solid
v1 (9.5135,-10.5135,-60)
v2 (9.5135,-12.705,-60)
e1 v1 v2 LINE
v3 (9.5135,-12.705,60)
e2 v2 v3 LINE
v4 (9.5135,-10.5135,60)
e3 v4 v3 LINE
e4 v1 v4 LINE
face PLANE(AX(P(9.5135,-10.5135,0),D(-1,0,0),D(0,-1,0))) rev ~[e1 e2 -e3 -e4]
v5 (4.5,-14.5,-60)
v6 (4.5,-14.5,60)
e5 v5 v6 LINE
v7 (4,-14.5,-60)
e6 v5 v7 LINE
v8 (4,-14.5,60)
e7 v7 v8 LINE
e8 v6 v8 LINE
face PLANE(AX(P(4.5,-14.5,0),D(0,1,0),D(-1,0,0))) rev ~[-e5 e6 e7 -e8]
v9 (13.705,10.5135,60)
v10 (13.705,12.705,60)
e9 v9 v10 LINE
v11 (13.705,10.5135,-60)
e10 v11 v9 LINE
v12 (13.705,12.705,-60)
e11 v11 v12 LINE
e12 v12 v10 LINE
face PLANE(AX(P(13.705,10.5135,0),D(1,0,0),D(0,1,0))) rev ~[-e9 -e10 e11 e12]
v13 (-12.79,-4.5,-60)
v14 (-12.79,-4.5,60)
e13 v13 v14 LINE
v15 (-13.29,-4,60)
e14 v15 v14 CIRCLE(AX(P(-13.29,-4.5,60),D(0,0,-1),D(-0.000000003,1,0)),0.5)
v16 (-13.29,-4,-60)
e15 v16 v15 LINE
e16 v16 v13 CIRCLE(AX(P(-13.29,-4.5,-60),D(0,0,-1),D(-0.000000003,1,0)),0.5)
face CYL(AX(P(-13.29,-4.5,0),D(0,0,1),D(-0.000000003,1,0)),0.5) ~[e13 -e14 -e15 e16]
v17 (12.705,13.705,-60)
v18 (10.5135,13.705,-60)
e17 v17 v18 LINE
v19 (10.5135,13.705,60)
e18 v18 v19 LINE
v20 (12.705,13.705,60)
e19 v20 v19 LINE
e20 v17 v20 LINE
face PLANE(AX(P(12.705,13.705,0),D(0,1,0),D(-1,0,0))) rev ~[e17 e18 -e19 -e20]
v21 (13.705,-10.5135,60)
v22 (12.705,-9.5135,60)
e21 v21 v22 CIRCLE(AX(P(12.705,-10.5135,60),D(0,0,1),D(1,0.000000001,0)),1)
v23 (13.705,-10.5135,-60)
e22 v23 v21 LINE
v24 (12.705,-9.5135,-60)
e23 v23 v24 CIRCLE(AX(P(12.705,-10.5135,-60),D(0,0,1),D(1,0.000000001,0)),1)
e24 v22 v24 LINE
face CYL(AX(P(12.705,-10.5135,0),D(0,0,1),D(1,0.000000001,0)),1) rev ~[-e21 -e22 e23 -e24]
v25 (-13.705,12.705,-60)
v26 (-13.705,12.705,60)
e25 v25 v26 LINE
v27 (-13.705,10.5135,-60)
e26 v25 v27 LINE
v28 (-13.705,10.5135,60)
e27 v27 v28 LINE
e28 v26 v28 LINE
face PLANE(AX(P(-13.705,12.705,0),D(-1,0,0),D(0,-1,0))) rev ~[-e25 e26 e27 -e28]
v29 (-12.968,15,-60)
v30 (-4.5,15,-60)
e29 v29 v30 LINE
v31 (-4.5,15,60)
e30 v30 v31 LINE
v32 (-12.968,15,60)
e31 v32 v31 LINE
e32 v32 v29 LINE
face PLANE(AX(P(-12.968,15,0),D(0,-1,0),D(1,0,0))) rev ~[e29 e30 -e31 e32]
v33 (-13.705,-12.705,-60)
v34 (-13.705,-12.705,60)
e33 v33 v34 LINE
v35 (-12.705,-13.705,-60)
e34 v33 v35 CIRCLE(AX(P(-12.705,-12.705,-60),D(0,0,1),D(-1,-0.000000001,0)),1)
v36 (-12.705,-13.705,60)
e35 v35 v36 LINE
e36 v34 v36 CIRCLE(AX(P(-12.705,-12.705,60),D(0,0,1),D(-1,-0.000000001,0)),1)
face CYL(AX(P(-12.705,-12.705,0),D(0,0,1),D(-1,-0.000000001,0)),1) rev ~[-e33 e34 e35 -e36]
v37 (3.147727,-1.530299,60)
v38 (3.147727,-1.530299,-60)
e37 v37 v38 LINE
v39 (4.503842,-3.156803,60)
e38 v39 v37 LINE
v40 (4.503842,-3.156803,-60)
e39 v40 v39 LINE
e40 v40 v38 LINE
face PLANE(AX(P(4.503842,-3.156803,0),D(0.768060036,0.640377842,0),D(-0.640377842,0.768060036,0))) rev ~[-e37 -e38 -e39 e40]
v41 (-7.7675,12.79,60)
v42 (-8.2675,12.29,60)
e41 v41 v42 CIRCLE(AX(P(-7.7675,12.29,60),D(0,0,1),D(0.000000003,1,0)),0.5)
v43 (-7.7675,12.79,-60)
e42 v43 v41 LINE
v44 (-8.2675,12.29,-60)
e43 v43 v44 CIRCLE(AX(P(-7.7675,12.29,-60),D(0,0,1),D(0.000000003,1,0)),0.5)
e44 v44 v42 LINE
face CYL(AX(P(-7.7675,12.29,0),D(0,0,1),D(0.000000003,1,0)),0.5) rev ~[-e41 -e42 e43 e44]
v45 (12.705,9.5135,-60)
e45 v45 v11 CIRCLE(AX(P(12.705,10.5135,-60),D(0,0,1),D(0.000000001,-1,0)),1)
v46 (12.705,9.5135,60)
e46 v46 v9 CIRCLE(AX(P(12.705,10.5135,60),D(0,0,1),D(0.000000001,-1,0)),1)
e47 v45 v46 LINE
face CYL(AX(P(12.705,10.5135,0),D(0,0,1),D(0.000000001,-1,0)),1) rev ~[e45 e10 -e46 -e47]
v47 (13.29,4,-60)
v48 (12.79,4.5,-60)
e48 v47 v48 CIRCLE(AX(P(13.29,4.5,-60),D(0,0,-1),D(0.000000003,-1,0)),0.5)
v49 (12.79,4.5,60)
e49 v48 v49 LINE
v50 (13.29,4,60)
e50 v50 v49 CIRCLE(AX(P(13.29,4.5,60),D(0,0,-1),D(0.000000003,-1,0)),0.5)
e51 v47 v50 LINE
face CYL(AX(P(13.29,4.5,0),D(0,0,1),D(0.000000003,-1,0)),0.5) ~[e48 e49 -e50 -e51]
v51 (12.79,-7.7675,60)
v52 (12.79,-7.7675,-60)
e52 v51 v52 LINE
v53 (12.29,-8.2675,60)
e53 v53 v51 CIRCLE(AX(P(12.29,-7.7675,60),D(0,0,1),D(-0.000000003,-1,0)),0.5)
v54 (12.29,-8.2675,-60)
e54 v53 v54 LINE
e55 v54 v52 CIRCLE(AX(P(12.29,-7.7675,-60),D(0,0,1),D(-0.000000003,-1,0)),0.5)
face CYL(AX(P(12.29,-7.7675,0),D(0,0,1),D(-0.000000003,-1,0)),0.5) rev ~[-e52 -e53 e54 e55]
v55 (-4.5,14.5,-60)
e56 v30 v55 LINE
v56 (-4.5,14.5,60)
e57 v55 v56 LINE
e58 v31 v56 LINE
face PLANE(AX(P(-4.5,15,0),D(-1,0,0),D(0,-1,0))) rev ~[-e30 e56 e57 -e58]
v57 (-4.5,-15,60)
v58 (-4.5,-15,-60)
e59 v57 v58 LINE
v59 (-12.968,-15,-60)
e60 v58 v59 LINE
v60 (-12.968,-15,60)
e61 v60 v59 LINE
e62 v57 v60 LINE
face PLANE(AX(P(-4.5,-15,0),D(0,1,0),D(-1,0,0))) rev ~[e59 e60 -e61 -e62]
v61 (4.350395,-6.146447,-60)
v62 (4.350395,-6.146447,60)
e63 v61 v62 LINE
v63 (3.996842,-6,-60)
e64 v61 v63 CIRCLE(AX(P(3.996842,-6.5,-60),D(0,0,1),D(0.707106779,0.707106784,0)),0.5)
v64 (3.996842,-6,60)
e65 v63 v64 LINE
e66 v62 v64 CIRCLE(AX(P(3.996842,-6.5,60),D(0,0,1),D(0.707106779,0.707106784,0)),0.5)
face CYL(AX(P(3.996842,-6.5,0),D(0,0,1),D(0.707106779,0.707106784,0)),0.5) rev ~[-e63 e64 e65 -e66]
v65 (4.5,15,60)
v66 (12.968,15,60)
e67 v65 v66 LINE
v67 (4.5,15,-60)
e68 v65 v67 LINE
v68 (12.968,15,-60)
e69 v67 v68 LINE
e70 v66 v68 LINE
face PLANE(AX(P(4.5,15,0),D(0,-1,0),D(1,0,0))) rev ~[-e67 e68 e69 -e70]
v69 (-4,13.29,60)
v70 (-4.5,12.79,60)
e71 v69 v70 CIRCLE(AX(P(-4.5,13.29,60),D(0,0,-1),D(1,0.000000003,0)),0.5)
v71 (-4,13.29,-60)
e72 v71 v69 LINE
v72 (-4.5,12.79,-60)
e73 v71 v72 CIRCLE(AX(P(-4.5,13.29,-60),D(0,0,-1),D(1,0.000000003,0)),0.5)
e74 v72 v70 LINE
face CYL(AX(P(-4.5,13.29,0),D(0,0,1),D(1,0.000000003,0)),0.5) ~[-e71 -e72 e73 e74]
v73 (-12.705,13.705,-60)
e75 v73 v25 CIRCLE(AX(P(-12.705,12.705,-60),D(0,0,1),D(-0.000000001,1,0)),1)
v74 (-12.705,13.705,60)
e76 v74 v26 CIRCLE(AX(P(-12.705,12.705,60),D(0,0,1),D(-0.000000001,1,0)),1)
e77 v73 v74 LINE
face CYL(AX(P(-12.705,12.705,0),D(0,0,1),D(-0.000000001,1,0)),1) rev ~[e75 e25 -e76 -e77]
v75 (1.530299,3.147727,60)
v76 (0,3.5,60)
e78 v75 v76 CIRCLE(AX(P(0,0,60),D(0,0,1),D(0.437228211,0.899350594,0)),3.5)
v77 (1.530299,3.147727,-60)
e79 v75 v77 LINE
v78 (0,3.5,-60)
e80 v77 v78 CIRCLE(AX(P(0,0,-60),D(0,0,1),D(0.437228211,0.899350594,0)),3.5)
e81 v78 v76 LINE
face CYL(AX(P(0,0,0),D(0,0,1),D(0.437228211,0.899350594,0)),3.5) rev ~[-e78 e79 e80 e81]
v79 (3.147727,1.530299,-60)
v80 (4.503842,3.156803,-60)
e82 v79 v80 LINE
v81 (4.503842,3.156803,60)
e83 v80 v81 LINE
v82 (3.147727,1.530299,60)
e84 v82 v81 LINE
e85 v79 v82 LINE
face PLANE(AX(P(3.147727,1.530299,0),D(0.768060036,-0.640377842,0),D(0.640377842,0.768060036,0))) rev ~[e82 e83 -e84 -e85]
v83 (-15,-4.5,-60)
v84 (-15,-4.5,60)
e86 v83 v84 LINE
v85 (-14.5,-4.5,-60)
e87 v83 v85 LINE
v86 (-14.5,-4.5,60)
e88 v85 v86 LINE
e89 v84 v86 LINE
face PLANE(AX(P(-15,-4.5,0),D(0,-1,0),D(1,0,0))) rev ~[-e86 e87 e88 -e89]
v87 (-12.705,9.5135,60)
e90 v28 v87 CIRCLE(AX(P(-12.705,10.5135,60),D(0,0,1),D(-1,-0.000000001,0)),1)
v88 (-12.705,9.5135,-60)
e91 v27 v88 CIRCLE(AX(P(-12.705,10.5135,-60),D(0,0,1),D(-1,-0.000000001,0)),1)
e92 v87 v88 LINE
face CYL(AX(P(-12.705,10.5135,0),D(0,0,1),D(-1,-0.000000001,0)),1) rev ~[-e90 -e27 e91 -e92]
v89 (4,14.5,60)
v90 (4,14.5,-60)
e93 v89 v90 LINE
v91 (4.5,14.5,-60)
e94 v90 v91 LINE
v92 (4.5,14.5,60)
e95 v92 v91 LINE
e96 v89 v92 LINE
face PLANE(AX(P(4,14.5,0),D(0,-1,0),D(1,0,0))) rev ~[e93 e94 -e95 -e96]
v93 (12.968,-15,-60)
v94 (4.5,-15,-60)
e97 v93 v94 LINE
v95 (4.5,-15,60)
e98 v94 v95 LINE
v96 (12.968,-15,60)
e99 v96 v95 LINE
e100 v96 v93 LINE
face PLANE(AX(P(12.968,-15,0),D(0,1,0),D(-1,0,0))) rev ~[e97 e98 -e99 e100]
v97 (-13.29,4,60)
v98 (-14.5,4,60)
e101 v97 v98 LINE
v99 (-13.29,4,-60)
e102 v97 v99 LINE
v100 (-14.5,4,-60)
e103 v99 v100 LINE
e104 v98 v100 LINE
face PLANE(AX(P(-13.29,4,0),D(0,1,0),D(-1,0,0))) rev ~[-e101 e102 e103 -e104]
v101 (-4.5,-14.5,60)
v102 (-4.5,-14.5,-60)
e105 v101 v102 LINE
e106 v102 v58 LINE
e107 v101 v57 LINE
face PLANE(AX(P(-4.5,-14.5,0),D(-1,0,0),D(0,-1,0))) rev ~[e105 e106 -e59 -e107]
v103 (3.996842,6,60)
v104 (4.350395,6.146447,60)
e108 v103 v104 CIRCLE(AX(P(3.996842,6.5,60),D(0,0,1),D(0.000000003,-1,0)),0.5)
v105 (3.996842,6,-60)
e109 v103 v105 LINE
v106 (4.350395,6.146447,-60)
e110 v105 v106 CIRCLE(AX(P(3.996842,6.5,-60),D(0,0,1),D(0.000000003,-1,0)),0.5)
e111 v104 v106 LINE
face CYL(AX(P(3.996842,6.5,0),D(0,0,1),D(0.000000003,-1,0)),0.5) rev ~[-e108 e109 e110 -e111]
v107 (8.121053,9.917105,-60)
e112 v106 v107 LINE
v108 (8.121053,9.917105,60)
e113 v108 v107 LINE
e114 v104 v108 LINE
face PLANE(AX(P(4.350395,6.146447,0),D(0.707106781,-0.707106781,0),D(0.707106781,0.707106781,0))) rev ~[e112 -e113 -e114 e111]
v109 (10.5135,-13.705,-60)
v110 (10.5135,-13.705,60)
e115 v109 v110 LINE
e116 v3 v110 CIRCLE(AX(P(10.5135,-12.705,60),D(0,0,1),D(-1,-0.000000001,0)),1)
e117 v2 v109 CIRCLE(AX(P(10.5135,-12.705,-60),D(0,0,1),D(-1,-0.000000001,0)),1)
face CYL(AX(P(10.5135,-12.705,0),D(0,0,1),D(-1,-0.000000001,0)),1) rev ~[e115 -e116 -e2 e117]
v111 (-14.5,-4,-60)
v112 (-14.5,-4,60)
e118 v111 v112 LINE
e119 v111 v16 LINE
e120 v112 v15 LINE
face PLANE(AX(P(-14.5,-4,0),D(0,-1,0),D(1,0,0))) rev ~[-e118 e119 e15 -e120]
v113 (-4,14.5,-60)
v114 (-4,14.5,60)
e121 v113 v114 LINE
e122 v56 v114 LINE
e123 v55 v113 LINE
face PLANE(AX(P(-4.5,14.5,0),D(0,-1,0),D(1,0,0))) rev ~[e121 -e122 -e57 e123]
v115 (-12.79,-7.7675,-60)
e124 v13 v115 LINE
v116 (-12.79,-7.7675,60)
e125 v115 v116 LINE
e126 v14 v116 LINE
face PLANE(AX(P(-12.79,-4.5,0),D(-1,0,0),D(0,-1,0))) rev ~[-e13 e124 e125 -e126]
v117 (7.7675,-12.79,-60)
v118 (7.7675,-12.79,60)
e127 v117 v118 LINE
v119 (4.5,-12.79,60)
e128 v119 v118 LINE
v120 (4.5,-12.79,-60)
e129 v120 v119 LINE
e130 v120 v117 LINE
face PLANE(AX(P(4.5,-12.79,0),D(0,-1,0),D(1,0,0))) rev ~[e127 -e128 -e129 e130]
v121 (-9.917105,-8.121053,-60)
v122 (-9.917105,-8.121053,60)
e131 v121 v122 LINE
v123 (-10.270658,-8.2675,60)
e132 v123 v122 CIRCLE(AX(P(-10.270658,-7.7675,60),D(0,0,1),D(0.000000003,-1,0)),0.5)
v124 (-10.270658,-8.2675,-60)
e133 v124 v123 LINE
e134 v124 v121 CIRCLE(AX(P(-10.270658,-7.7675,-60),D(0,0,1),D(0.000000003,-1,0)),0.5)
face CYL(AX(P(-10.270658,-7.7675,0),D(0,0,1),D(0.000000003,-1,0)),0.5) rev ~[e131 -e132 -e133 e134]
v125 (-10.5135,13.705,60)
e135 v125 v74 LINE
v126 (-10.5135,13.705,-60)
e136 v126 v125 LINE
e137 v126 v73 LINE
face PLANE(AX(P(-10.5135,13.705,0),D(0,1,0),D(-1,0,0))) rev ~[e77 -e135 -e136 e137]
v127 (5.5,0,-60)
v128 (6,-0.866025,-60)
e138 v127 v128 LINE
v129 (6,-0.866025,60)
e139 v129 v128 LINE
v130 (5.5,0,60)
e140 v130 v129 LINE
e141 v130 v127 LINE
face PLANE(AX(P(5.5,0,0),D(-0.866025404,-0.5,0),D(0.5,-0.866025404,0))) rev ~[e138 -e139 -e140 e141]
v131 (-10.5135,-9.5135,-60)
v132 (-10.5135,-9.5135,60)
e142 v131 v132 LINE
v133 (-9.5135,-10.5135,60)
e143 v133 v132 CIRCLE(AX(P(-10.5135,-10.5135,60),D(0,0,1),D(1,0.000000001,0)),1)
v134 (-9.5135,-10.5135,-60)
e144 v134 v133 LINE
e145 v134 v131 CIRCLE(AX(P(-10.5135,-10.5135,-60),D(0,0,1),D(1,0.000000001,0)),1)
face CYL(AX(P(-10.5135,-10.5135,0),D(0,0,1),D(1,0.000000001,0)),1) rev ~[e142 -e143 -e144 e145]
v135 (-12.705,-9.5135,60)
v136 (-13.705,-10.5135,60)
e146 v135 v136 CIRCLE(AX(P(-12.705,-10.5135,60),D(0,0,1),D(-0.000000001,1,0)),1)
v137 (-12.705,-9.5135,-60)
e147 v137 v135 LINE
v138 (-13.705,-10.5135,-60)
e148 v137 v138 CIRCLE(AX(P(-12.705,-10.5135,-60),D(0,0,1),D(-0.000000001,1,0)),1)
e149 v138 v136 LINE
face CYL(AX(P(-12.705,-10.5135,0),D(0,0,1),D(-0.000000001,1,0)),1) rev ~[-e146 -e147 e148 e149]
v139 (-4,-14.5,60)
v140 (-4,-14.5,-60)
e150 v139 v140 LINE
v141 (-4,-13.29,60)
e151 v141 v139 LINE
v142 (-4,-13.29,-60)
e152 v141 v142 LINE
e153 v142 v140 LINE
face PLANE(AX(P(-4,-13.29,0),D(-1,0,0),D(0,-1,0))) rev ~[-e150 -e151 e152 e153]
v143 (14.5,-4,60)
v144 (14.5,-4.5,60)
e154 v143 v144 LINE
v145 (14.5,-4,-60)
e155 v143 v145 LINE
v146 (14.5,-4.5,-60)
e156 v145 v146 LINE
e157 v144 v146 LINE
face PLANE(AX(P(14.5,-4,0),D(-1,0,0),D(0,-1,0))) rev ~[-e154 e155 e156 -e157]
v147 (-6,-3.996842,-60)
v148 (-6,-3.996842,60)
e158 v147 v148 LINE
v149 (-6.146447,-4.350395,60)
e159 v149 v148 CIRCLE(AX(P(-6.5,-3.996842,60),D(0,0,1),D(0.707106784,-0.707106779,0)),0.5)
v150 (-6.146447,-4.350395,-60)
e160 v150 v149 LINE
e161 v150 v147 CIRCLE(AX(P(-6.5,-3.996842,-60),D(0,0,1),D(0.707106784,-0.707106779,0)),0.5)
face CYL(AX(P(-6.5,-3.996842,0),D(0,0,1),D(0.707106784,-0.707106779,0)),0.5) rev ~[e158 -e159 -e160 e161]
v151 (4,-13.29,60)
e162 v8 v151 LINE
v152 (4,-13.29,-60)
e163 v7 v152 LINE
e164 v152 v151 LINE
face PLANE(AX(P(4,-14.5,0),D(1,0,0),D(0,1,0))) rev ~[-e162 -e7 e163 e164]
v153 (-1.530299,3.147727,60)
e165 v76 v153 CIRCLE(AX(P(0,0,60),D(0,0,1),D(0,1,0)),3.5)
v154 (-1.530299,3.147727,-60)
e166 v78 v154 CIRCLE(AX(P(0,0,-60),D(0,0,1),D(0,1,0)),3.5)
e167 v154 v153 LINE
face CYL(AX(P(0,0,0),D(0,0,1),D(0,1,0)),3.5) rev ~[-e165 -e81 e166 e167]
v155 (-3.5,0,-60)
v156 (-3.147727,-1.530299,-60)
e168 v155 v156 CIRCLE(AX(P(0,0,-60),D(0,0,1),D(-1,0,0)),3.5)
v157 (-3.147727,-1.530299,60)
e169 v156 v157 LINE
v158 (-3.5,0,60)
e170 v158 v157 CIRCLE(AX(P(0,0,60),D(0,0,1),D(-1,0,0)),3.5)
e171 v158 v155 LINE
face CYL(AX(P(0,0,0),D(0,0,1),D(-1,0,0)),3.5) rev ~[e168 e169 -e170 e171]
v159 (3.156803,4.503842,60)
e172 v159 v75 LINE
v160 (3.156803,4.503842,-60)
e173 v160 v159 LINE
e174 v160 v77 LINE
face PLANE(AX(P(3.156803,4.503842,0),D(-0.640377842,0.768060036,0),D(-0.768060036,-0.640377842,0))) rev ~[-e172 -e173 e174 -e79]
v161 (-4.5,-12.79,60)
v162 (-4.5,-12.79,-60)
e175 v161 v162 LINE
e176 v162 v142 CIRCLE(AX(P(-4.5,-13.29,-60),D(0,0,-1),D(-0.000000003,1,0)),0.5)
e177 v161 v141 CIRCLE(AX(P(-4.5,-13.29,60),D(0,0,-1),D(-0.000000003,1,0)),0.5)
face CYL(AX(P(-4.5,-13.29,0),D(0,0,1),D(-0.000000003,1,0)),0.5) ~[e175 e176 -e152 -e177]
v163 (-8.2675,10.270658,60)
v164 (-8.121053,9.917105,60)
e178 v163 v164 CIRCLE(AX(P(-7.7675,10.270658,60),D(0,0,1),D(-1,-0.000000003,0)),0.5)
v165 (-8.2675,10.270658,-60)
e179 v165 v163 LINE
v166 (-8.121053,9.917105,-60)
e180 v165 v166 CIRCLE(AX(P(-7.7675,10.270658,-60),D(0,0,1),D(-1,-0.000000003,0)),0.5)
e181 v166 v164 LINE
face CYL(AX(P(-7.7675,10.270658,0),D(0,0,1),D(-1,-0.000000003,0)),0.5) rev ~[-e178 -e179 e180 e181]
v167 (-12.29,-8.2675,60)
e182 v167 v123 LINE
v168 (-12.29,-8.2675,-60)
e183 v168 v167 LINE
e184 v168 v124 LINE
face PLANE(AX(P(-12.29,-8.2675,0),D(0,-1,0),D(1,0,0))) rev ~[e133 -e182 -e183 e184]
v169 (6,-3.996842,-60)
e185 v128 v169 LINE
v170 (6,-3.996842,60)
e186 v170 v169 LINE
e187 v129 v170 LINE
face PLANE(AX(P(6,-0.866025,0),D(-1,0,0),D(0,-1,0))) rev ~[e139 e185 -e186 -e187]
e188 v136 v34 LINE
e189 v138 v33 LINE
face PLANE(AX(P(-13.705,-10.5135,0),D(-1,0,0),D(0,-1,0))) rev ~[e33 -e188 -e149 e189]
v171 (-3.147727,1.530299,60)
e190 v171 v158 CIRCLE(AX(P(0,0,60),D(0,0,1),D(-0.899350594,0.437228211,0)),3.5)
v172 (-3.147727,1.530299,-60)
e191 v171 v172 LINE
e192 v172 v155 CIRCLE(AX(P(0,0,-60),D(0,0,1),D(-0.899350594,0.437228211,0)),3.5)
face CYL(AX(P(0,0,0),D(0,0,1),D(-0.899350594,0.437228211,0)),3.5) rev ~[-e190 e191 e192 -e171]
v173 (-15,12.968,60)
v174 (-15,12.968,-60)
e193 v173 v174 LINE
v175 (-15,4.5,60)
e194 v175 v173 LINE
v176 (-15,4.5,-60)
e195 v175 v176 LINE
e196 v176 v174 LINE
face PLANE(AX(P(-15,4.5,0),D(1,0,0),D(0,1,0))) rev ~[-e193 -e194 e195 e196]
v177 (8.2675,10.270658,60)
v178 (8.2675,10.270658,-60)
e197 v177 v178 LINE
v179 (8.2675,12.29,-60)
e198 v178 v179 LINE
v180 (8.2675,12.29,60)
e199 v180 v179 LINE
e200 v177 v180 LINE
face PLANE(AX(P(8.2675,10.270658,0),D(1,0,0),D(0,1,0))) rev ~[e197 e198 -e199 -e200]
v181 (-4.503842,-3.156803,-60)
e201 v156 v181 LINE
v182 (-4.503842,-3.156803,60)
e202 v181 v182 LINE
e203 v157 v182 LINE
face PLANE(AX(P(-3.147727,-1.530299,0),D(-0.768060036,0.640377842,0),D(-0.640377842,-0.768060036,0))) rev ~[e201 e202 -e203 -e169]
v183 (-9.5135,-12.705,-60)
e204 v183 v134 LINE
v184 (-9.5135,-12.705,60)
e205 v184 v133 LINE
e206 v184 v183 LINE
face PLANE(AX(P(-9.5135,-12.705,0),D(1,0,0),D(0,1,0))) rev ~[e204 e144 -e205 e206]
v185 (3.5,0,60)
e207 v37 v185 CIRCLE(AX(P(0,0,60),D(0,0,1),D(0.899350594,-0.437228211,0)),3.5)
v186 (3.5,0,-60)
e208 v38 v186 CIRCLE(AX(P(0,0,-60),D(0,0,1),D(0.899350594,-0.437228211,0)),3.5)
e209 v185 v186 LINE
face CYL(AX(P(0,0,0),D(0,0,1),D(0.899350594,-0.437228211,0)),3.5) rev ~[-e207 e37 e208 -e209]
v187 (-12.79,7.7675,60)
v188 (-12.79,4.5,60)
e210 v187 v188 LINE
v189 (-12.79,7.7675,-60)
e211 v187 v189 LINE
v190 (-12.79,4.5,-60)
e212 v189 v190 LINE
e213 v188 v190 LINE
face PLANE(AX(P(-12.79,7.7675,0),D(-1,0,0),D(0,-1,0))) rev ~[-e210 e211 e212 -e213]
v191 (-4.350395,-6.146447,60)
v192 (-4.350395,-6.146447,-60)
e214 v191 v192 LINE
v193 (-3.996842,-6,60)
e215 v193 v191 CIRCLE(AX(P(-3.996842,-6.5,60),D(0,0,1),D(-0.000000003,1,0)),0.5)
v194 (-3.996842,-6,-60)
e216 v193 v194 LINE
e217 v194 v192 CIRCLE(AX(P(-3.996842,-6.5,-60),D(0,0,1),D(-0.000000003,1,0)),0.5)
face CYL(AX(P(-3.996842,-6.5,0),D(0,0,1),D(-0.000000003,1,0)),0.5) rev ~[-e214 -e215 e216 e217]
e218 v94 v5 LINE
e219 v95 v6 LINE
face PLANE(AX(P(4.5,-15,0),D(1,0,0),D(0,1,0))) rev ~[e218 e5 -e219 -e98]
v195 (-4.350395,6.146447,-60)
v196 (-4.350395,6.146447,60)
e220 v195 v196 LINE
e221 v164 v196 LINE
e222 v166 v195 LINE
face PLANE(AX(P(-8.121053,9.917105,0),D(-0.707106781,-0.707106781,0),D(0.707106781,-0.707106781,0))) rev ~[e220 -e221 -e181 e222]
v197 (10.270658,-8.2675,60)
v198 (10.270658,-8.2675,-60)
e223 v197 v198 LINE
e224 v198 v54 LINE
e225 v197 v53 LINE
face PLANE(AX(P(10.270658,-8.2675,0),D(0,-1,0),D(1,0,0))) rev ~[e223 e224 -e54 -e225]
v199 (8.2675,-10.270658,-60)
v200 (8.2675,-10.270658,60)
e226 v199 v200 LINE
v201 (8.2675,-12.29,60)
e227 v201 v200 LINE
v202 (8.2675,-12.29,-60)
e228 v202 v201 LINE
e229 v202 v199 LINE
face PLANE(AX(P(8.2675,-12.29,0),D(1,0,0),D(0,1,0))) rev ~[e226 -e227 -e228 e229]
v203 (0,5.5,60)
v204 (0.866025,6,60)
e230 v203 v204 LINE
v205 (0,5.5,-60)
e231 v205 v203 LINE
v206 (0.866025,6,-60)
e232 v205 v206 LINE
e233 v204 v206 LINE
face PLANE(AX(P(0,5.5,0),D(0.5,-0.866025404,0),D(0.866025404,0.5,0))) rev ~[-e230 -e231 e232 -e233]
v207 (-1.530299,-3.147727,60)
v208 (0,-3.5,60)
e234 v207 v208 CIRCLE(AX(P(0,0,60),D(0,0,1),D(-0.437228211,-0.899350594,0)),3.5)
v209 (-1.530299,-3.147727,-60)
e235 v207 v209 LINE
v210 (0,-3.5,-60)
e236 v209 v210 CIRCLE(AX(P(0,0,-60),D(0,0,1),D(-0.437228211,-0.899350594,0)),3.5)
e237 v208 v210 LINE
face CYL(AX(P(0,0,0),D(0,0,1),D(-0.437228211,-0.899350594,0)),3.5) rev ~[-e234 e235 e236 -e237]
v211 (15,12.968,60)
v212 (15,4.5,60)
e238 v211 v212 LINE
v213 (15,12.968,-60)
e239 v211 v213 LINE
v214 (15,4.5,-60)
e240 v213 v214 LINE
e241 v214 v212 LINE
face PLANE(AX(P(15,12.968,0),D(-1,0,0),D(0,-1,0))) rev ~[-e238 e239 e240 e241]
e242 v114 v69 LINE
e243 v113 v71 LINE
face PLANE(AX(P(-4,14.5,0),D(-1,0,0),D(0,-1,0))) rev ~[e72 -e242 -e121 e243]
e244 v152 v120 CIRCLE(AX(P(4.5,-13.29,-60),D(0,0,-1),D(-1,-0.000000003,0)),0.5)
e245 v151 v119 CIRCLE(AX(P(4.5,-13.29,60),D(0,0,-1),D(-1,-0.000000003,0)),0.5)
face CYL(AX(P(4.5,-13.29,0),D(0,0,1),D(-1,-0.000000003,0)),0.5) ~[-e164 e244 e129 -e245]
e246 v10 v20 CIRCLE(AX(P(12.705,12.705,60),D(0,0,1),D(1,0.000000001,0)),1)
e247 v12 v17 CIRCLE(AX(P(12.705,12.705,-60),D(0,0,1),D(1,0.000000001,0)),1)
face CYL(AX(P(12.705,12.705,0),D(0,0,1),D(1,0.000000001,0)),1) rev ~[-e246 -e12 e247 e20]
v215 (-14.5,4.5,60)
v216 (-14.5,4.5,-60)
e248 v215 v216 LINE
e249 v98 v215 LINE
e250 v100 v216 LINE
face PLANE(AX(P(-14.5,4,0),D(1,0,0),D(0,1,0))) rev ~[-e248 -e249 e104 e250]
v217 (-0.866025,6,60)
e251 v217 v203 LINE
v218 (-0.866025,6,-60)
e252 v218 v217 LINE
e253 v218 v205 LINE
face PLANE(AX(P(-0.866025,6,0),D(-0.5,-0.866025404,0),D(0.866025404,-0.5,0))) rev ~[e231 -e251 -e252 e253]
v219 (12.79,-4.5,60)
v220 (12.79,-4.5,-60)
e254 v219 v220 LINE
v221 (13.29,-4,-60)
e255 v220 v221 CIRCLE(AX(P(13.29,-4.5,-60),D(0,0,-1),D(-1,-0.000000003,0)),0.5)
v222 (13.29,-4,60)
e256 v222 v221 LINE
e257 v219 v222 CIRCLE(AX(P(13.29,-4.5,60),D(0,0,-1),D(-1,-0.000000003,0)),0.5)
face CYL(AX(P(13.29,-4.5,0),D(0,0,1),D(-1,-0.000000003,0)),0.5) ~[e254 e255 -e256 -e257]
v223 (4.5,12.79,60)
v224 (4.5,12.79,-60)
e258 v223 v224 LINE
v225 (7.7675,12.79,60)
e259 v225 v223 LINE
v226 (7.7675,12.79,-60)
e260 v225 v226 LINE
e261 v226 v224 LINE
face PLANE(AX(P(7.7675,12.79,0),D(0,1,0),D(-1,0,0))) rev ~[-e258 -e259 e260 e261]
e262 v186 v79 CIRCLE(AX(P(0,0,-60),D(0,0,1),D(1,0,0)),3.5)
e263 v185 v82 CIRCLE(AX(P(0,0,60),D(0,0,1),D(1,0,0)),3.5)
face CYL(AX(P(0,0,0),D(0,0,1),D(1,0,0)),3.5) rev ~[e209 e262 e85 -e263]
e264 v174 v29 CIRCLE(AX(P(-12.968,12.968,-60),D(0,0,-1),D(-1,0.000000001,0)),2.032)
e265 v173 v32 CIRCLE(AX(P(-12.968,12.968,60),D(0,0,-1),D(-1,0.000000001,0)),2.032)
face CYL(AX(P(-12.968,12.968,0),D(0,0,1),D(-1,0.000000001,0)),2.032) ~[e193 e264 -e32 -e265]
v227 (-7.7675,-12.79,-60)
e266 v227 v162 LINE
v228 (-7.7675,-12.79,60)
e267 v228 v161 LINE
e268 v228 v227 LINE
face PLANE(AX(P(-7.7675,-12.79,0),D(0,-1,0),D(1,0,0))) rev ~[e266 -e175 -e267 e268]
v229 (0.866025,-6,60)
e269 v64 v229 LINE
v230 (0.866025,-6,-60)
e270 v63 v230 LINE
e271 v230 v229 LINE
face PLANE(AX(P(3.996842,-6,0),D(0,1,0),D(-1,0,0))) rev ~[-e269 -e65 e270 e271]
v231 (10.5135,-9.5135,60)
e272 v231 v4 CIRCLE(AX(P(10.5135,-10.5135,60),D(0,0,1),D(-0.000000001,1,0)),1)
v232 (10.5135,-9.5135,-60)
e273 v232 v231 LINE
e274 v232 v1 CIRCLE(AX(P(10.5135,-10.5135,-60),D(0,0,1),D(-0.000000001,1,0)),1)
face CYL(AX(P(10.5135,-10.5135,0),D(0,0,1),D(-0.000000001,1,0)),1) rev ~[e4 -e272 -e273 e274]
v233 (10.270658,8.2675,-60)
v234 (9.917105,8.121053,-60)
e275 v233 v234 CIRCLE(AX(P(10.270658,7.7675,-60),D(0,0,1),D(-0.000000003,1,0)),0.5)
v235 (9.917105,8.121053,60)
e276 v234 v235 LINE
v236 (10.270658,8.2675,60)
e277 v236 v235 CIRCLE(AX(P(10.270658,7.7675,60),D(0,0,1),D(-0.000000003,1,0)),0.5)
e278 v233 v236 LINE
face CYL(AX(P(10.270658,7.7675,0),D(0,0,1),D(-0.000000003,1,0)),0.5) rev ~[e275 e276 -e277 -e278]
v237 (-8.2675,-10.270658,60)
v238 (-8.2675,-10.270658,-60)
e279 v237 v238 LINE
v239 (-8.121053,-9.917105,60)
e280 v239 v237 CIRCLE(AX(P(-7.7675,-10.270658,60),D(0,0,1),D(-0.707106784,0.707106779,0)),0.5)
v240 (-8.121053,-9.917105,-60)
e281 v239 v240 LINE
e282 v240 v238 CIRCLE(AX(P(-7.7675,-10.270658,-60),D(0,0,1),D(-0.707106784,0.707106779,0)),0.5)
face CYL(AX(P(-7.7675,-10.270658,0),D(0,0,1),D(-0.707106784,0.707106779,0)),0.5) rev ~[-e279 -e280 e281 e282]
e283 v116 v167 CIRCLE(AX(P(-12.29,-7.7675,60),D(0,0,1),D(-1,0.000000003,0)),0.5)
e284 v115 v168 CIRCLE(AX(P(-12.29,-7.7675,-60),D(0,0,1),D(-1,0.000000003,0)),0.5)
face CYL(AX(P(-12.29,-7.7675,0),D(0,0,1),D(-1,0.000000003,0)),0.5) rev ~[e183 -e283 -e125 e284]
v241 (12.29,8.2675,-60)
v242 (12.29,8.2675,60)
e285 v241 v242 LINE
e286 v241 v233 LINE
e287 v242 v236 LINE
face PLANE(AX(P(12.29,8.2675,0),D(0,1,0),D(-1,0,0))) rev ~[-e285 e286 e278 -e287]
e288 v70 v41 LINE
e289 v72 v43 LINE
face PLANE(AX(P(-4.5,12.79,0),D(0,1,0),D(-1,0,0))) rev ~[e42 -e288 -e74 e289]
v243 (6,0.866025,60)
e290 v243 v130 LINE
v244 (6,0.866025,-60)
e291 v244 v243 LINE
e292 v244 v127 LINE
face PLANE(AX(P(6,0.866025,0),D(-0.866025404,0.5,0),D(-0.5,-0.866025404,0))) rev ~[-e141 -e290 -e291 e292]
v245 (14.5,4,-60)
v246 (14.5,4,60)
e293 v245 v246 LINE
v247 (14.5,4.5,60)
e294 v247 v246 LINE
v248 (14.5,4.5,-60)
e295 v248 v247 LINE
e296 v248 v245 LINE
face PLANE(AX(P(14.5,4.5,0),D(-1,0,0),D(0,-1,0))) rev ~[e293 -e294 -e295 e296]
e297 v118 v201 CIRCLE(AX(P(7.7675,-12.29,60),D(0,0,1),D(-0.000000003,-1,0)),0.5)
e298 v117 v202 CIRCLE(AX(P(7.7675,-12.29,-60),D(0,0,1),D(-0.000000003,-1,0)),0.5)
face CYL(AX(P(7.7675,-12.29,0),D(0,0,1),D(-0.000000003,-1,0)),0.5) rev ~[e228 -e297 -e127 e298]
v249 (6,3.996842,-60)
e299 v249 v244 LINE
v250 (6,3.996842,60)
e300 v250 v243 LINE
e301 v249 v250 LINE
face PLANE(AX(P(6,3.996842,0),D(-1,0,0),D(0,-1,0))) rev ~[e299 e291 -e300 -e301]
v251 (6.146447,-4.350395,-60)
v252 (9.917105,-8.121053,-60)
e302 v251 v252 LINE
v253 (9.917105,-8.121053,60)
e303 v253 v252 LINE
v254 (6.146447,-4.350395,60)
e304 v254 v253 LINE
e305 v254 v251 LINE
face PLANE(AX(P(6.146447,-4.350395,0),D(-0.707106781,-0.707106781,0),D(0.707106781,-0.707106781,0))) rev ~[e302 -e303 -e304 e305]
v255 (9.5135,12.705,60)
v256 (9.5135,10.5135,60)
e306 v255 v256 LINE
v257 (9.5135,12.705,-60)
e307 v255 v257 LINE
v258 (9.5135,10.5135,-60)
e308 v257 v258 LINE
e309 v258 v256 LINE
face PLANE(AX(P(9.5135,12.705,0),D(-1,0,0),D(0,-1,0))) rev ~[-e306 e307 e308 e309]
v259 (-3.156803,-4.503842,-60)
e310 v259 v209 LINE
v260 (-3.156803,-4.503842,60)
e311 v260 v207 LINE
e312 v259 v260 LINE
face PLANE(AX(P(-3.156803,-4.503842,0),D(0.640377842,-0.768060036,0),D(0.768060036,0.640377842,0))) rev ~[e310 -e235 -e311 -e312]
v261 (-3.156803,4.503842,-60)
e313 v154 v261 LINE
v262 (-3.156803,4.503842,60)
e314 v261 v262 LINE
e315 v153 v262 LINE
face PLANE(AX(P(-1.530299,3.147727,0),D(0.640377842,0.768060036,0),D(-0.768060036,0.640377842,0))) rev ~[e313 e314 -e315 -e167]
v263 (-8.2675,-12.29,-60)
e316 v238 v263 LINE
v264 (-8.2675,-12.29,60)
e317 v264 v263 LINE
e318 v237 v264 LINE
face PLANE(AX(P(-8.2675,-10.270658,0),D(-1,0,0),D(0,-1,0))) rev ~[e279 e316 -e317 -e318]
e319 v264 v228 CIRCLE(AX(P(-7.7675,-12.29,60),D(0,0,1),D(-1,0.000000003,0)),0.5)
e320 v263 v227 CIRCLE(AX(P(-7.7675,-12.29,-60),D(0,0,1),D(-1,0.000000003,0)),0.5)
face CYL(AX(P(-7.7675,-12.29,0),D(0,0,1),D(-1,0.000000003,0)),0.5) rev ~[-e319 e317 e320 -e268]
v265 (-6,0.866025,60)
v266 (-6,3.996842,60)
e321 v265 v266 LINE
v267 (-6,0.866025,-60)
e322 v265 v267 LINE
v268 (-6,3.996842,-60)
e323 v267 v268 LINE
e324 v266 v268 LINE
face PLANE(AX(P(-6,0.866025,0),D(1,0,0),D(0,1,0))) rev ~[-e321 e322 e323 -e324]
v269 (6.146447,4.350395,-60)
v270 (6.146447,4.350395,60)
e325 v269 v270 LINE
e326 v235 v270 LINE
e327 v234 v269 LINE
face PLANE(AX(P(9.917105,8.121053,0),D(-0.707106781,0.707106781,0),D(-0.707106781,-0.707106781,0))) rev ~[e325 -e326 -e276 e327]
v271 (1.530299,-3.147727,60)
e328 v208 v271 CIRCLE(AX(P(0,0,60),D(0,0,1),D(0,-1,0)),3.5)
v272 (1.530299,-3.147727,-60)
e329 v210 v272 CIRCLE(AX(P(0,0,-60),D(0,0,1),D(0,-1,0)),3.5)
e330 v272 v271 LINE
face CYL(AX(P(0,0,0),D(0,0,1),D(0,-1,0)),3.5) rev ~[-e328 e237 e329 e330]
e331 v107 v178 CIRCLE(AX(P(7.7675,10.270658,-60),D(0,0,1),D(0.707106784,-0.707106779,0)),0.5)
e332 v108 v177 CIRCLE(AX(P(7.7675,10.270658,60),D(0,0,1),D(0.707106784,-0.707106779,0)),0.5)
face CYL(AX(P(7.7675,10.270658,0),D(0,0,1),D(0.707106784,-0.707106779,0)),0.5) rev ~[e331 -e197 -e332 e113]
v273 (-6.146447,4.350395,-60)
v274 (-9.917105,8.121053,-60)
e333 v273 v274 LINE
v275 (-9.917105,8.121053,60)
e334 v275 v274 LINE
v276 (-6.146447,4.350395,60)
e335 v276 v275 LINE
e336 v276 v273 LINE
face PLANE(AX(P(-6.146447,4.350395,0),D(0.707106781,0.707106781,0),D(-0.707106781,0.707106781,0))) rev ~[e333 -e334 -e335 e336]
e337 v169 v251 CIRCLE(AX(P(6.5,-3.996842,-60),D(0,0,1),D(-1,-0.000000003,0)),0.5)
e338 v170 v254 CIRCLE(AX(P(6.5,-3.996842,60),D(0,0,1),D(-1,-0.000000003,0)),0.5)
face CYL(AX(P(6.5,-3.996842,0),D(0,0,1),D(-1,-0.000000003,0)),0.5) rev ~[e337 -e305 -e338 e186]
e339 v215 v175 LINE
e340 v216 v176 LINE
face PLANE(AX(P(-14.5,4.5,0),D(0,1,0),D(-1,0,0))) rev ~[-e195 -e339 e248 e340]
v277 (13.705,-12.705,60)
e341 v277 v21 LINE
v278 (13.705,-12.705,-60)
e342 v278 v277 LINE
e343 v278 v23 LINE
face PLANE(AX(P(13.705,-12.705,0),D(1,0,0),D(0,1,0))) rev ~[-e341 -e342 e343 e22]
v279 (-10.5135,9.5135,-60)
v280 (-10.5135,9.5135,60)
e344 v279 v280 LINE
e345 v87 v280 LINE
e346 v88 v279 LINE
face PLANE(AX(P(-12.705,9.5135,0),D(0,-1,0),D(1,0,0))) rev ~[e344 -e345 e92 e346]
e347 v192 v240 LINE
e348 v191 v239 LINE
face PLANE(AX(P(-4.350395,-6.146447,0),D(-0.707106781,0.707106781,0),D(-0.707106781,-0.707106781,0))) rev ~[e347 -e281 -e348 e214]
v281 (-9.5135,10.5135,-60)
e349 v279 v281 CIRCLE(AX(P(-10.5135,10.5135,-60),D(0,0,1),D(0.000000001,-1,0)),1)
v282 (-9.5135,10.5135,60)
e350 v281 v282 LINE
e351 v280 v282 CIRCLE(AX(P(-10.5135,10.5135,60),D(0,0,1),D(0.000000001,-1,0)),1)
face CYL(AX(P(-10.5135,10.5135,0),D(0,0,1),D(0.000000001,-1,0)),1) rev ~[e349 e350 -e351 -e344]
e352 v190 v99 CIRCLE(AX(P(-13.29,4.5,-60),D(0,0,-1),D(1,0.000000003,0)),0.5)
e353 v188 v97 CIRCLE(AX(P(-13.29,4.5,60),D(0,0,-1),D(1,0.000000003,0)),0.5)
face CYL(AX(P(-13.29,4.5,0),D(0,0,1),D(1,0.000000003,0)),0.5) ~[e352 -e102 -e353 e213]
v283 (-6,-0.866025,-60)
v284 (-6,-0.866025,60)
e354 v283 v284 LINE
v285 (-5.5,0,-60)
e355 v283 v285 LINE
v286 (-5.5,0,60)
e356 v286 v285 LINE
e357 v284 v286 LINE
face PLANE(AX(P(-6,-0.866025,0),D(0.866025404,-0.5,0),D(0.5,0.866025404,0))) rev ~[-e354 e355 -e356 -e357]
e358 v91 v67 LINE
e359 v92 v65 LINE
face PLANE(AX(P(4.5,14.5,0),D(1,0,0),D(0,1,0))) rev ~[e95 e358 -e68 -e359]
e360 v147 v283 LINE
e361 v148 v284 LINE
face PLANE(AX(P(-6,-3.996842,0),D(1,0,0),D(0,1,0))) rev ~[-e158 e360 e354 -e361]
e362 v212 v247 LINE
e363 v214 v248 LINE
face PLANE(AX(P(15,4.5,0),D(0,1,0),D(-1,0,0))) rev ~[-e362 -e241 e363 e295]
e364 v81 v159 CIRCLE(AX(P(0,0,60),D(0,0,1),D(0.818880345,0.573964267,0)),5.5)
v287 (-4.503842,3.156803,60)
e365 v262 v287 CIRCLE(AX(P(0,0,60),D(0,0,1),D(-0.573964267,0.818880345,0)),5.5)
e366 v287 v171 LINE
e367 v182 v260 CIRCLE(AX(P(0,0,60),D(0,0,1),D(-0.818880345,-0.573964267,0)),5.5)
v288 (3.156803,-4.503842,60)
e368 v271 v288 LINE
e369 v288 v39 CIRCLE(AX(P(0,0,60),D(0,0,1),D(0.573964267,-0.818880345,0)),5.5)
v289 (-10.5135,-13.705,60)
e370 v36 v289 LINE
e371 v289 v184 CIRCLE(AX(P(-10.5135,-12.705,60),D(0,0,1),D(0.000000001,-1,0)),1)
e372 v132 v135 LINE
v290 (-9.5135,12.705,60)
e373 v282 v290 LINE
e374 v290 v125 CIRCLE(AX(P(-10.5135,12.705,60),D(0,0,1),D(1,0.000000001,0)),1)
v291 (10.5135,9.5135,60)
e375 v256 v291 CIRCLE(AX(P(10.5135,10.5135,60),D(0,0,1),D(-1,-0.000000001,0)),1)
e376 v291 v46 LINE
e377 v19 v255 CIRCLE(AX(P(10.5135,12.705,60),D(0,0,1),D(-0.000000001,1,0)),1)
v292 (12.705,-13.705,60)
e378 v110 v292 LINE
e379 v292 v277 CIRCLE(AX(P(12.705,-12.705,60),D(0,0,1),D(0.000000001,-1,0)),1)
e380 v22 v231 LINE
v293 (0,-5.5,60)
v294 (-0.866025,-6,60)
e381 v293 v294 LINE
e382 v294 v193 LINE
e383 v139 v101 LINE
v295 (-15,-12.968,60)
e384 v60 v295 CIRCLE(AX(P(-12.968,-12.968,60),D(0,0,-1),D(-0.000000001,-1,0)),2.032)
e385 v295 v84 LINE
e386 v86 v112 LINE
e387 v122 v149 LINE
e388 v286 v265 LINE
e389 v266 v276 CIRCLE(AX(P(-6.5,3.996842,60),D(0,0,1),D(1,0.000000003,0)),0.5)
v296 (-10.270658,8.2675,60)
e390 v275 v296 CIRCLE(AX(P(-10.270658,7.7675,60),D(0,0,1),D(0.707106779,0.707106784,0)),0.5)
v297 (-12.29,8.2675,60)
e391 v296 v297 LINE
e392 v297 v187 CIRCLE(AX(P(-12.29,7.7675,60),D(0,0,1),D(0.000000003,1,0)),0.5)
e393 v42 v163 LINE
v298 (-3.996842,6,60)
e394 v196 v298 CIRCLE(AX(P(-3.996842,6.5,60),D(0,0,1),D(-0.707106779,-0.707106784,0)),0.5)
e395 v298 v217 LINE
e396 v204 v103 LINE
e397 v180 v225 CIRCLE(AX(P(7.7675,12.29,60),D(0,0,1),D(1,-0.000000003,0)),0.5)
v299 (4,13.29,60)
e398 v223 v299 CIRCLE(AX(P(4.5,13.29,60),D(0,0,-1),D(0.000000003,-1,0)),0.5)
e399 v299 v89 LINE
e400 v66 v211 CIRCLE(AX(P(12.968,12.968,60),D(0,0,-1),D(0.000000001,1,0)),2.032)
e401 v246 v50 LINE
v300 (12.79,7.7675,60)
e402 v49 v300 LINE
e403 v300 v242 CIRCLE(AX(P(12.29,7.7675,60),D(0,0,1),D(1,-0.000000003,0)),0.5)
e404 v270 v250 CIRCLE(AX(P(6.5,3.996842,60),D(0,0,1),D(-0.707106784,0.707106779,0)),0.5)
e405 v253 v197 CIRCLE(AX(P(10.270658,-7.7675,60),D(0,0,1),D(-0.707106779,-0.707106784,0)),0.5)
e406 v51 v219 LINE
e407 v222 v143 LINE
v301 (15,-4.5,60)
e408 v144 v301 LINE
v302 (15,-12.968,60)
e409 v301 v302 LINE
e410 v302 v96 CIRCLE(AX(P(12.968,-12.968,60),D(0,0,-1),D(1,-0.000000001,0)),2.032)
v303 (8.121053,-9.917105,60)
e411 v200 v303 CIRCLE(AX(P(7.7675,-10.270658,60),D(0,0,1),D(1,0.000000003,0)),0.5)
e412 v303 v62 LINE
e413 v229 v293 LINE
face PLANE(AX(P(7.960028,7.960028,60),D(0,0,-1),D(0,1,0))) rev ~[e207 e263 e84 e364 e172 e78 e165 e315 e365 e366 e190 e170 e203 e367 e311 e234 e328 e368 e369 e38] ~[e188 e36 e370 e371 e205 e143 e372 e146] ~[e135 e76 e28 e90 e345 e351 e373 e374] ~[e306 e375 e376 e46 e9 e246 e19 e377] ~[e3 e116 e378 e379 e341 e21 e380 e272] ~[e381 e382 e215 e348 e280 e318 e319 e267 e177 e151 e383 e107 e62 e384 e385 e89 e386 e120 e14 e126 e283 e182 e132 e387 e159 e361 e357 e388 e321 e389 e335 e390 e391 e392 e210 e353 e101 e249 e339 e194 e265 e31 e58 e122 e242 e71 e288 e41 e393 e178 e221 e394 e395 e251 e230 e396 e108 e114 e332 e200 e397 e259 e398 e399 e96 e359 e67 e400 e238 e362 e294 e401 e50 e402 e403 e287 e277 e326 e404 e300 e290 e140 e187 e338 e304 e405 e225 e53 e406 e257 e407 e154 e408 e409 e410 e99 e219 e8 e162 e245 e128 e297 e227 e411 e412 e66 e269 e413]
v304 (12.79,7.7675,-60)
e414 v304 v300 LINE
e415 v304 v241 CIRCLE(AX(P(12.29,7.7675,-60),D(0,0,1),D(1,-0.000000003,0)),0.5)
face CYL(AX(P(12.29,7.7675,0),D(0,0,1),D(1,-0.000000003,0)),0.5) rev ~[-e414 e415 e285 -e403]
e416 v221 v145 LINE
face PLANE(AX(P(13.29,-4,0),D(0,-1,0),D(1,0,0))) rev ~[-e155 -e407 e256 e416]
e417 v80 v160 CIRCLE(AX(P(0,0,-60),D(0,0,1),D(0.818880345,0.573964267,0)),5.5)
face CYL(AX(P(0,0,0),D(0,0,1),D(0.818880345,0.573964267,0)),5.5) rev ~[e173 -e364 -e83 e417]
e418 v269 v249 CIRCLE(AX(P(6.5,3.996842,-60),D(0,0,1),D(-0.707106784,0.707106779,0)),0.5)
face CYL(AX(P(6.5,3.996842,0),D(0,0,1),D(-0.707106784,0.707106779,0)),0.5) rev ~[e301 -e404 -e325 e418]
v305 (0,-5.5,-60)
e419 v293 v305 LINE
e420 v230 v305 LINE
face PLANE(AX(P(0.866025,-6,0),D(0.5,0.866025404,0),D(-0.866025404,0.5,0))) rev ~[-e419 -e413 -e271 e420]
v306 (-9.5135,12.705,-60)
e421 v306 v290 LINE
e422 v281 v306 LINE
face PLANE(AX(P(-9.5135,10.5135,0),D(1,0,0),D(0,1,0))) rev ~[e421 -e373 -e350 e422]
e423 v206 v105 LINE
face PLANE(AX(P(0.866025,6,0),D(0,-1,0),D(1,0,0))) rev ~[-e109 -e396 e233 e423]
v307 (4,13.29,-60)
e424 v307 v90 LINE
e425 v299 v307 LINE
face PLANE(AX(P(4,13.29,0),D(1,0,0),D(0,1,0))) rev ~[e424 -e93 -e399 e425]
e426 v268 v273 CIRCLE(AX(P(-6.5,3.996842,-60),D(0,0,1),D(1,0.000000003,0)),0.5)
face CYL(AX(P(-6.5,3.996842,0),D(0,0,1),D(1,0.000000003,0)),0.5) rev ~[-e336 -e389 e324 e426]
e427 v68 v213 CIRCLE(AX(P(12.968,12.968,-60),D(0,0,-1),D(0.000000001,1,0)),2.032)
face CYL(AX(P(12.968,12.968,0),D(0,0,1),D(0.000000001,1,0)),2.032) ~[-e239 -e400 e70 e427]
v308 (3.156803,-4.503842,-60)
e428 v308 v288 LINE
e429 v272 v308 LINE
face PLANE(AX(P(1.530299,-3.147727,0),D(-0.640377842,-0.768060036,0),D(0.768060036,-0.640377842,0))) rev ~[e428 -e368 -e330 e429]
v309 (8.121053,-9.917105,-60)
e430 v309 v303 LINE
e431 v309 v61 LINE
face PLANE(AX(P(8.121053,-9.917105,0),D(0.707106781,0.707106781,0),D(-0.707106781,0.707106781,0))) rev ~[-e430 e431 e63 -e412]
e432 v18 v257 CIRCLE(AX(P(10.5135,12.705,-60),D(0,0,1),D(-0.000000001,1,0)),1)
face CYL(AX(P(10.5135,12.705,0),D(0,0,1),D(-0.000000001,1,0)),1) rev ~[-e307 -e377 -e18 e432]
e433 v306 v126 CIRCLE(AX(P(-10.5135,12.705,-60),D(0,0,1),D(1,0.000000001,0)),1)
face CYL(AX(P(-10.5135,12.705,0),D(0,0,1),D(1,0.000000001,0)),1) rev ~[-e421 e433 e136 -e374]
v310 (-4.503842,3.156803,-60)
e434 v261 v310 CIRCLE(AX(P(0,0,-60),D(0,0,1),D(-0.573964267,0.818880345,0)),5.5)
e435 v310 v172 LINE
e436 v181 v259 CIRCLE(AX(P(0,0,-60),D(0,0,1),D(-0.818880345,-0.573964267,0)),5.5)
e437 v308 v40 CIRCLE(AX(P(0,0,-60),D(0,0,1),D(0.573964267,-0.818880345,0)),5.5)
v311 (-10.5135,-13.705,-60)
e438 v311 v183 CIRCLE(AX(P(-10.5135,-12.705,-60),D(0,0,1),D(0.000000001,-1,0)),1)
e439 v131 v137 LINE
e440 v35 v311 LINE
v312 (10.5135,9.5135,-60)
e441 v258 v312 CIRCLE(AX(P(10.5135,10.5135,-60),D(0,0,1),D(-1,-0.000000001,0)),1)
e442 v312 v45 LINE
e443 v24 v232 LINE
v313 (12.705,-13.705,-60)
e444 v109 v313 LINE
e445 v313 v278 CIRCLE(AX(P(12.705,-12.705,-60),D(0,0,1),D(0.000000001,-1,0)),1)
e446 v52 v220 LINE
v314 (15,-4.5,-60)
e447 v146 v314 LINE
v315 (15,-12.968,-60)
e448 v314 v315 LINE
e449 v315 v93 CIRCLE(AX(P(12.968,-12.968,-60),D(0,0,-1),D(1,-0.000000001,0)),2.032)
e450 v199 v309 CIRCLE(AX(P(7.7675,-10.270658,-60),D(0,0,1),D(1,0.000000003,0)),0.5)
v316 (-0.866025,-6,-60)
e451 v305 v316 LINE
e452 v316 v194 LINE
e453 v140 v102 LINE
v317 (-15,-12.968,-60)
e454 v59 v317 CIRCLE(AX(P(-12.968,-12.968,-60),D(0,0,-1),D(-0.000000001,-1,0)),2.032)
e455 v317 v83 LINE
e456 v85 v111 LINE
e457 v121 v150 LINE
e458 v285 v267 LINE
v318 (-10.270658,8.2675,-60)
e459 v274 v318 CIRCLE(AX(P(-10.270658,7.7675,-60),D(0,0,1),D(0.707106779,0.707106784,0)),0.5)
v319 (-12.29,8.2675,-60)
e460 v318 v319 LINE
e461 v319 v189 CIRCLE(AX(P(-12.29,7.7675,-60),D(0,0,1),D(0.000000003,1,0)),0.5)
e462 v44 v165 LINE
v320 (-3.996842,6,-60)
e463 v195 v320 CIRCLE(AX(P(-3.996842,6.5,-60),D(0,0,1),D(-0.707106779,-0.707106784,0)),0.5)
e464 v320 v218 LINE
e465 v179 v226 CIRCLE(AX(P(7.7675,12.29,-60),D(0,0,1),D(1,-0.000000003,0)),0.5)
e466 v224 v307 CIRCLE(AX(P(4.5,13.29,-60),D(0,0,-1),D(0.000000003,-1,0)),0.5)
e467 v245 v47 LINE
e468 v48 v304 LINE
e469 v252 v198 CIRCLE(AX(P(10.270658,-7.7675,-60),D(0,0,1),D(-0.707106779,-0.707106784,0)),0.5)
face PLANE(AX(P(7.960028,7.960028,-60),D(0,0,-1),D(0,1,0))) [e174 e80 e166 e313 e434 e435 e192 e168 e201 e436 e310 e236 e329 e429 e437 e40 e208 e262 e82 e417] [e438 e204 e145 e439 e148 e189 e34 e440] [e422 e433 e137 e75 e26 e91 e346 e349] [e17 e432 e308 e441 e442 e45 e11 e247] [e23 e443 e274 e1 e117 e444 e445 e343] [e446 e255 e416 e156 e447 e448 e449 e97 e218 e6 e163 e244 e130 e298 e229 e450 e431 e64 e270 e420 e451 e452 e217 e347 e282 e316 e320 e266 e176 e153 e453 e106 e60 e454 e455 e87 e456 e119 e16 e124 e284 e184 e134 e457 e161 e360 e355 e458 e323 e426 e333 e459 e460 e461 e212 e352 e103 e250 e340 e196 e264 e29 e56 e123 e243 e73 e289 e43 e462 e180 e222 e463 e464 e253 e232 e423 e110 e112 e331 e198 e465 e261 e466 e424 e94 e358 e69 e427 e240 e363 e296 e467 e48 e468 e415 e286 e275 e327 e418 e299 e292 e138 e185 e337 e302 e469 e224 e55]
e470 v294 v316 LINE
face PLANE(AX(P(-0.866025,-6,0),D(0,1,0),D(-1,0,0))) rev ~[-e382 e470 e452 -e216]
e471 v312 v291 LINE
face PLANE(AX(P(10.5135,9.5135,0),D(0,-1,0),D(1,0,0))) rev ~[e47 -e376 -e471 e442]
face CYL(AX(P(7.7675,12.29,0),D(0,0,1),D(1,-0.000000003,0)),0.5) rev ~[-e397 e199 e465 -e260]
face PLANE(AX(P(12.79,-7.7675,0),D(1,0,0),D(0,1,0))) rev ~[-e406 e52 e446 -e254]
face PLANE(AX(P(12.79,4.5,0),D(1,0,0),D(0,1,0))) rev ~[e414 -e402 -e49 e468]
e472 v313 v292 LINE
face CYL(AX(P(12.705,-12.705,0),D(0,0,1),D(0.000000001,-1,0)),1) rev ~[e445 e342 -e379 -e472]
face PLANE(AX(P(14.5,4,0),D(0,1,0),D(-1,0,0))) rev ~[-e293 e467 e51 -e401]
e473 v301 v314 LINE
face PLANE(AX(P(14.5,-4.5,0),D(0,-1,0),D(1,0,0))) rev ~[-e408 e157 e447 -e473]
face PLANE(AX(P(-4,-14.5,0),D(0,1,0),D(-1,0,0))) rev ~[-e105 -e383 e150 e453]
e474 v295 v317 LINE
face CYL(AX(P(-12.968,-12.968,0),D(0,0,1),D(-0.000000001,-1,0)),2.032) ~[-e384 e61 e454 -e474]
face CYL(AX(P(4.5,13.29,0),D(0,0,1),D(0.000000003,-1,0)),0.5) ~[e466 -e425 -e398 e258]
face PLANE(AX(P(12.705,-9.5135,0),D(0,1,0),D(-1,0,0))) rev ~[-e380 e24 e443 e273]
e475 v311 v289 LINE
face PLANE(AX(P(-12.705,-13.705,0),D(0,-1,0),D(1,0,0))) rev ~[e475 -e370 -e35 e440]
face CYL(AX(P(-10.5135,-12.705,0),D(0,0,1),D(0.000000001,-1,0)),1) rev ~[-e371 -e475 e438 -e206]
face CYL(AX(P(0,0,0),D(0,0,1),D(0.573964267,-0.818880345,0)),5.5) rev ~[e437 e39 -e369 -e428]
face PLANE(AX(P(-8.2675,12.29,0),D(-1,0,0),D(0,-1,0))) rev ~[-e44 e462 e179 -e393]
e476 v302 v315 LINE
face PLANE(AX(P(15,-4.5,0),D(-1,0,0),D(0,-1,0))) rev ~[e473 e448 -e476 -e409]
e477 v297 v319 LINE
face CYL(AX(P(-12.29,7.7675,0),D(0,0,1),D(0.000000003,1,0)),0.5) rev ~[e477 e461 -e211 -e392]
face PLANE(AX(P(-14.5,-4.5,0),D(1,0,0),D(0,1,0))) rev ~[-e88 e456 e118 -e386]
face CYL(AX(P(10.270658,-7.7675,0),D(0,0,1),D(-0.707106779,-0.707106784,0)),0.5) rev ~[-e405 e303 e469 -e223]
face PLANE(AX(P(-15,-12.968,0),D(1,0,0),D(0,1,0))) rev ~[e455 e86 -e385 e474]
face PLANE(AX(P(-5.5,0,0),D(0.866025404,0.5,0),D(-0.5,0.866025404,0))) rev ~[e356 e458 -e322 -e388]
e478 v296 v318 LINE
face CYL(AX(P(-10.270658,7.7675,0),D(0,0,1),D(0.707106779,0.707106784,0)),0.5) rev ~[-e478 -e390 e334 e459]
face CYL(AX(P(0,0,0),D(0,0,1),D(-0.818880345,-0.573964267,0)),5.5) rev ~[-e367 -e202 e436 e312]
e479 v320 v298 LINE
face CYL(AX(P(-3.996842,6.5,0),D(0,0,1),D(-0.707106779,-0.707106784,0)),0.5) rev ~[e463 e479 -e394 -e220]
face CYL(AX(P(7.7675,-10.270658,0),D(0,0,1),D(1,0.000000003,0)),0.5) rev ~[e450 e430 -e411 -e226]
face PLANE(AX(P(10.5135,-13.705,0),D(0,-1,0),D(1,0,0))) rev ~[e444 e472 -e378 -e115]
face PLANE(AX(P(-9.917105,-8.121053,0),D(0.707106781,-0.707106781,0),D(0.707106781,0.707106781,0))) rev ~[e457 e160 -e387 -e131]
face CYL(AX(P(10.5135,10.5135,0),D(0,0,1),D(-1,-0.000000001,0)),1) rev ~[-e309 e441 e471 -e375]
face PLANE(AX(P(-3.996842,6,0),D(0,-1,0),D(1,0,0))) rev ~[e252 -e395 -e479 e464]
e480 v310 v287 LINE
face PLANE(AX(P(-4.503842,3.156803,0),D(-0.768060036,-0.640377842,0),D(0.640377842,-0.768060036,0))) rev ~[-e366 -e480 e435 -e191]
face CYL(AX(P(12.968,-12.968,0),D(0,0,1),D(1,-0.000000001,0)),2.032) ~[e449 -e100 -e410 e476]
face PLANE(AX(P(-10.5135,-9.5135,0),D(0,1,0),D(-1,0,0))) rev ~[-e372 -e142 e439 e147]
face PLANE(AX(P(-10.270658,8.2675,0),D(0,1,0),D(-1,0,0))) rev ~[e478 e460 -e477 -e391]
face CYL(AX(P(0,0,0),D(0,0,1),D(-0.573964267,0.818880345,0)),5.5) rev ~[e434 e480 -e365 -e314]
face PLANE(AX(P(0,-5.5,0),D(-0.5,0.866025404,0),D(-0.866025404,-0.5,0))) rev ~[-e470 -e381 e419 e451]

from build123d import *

# Parameters (mm, degrees)
BOSS_EXTRUDE1_DEPTH = 60
CIRPATTERN1_COUNT   = 4


with BuildPart() as part:
    # Sketch3 → Boss-Extrude1 (new, symmetric)
    with BuildSketch(Plane.XY):
        with BuildLine():
            Line((-4.503841895, 3.156803476), (-3.14772708, 1.530298739))
            ThreePointArc((-3.14772708, 1.530298739), (-3.410794979, 0.785160882), (-3.5, 0))
            Line((-3.5, 0), (-5.5, 0))
            Line((-5.5, 0), (-6, 0.866025404))
            Line((-6, 0.866025404), (-6, 3.996841995))
            ThreePointArc((-6, 3.996841995), (-6.038060234, 4.188183711), (-6.146446609, 4.350395385))
            Line((-6.146446609, 4.350395385), (-9.917104615, 8.121053391))
            ThreePointArc((-9.917104615, 8.121053391), (-10.079316289, 8.229439766), (-10.270658005, 8.2675))
            Line((-10.270658005, 8.2675), (-12.29, 8.2675))
            ThreePointArc((-12.29, 8.2675), (-12.643553391, 8.121053391), (-12.79, 7.7675))
            Line((-12.79, 7.7675), (-12.79, 4.5))
            ThreePointArc((-12.79, 4.5), (-12.936446609, 4.146446609), (-13.29, 4))
            Line((-13.29, 4), (-14.5, 4))
            Line((-14.5, 4), (-14.5, 4.5))
            Line((-14.5, 4.5), (-15, 4.5))
            Line((-15, 4.5), (-15, 12.968))
            ThreePointArc((-15, 12.968), (-14.404840979, 14.404840979), (-12.968, 15))
            Line((-12.968, 15), (-4.5, 15))
            Line((-4.5, 15), (-4.5, 14.5))
            Line((-4.5, 14.5), (-4, 14.5))
            Line((-4, 14.5), (-4, 13.29))
            ThreePointArc((-4, 13.29), (-4.146446609, 12.936446609), (-4.5, 12.79))
            Line((-4.5, 12.79), (-7.7675, 12.79))
            ThreePointArc((-7.7675, 12.79), (-8.121053391, 12.643553391), (-8.2675, 12.29))
            Line((-8.2675, 12.29), (-8.2675, 10.270658005))
            ThreePointArc((-8.2675, 10.270658005), (-8.229439766, 10.079316289), (-8.121053391, 9.917104615))
            Line((-8.121053391, 9.917104615), (-4.350395385, 6.146446609))
            ThreePointArc((-4.350395385, 6.146446609), (-4.188183711, 6.038060234), (-3.996841995, 6))
            Line((-3.996841995, 6), (-0.866025404, 6))
            Line((-0.866025404, 6), (0, 5.5))
            Line((0, 5.5), (0, 3.5))
            ThreePointArc((0, 3.5), (-0.785160882, 3.410794979), (-1.530298739, 3.14772708))
            Line((-1.530298739, 3.14772708), (-3.156803476, 4.503841895))
            ThreePointArc((-3.156803476, 4.503841895), (-3.889087297, 3.889087297), (-4.503841895, 3.156803476))
        make_face()
        with BuildLine():
            Line((-12.705, 9.5135), (-10.5135, 9.5135))
            ThreePointArc((-10.5135, 9.5135), (-9.806393219, 9.806393219), (-9.5135, 10.5135))
            Line((-9.5135, 10.5135), (-9.5135, 12.705))
            ThreePointArc((-9.5135, 12.705), (-9.806393219, 13.412106781), (-10.5135, 13.705))
            Line((-10.5135, 13.705), (-12.705, 13.705))
            ThreePointArc((-12.705, 13.705), (-13.412106781, 13.412106781), (-13.705, 12.705))
            Line((-13.705, 12.705), (-13.705, 10.5135))
            ThreePointArc((-13.705, 10.5135), (-13.412106781, 9.806393219), (-12.705, 9.5135))
        make_face(mode=Mode.SUBTRACT)
    boss_extrude1 = extrude(amount=BOSS_EXTRUDE1_DEPTH, both=True)

    # CirPattern1: Boss-Extrude1 ×4 about axis
    cirpattern1_axis = Axis((0, 0, 0), (0, 0, 1))
    for i in range(1, CIRPATTERN1_COUNT):
        add(boss_extrude1.rotate(cirpattern1_axis, i * 360 / CIRPATTERN1_COUNT))


solid = part.part
